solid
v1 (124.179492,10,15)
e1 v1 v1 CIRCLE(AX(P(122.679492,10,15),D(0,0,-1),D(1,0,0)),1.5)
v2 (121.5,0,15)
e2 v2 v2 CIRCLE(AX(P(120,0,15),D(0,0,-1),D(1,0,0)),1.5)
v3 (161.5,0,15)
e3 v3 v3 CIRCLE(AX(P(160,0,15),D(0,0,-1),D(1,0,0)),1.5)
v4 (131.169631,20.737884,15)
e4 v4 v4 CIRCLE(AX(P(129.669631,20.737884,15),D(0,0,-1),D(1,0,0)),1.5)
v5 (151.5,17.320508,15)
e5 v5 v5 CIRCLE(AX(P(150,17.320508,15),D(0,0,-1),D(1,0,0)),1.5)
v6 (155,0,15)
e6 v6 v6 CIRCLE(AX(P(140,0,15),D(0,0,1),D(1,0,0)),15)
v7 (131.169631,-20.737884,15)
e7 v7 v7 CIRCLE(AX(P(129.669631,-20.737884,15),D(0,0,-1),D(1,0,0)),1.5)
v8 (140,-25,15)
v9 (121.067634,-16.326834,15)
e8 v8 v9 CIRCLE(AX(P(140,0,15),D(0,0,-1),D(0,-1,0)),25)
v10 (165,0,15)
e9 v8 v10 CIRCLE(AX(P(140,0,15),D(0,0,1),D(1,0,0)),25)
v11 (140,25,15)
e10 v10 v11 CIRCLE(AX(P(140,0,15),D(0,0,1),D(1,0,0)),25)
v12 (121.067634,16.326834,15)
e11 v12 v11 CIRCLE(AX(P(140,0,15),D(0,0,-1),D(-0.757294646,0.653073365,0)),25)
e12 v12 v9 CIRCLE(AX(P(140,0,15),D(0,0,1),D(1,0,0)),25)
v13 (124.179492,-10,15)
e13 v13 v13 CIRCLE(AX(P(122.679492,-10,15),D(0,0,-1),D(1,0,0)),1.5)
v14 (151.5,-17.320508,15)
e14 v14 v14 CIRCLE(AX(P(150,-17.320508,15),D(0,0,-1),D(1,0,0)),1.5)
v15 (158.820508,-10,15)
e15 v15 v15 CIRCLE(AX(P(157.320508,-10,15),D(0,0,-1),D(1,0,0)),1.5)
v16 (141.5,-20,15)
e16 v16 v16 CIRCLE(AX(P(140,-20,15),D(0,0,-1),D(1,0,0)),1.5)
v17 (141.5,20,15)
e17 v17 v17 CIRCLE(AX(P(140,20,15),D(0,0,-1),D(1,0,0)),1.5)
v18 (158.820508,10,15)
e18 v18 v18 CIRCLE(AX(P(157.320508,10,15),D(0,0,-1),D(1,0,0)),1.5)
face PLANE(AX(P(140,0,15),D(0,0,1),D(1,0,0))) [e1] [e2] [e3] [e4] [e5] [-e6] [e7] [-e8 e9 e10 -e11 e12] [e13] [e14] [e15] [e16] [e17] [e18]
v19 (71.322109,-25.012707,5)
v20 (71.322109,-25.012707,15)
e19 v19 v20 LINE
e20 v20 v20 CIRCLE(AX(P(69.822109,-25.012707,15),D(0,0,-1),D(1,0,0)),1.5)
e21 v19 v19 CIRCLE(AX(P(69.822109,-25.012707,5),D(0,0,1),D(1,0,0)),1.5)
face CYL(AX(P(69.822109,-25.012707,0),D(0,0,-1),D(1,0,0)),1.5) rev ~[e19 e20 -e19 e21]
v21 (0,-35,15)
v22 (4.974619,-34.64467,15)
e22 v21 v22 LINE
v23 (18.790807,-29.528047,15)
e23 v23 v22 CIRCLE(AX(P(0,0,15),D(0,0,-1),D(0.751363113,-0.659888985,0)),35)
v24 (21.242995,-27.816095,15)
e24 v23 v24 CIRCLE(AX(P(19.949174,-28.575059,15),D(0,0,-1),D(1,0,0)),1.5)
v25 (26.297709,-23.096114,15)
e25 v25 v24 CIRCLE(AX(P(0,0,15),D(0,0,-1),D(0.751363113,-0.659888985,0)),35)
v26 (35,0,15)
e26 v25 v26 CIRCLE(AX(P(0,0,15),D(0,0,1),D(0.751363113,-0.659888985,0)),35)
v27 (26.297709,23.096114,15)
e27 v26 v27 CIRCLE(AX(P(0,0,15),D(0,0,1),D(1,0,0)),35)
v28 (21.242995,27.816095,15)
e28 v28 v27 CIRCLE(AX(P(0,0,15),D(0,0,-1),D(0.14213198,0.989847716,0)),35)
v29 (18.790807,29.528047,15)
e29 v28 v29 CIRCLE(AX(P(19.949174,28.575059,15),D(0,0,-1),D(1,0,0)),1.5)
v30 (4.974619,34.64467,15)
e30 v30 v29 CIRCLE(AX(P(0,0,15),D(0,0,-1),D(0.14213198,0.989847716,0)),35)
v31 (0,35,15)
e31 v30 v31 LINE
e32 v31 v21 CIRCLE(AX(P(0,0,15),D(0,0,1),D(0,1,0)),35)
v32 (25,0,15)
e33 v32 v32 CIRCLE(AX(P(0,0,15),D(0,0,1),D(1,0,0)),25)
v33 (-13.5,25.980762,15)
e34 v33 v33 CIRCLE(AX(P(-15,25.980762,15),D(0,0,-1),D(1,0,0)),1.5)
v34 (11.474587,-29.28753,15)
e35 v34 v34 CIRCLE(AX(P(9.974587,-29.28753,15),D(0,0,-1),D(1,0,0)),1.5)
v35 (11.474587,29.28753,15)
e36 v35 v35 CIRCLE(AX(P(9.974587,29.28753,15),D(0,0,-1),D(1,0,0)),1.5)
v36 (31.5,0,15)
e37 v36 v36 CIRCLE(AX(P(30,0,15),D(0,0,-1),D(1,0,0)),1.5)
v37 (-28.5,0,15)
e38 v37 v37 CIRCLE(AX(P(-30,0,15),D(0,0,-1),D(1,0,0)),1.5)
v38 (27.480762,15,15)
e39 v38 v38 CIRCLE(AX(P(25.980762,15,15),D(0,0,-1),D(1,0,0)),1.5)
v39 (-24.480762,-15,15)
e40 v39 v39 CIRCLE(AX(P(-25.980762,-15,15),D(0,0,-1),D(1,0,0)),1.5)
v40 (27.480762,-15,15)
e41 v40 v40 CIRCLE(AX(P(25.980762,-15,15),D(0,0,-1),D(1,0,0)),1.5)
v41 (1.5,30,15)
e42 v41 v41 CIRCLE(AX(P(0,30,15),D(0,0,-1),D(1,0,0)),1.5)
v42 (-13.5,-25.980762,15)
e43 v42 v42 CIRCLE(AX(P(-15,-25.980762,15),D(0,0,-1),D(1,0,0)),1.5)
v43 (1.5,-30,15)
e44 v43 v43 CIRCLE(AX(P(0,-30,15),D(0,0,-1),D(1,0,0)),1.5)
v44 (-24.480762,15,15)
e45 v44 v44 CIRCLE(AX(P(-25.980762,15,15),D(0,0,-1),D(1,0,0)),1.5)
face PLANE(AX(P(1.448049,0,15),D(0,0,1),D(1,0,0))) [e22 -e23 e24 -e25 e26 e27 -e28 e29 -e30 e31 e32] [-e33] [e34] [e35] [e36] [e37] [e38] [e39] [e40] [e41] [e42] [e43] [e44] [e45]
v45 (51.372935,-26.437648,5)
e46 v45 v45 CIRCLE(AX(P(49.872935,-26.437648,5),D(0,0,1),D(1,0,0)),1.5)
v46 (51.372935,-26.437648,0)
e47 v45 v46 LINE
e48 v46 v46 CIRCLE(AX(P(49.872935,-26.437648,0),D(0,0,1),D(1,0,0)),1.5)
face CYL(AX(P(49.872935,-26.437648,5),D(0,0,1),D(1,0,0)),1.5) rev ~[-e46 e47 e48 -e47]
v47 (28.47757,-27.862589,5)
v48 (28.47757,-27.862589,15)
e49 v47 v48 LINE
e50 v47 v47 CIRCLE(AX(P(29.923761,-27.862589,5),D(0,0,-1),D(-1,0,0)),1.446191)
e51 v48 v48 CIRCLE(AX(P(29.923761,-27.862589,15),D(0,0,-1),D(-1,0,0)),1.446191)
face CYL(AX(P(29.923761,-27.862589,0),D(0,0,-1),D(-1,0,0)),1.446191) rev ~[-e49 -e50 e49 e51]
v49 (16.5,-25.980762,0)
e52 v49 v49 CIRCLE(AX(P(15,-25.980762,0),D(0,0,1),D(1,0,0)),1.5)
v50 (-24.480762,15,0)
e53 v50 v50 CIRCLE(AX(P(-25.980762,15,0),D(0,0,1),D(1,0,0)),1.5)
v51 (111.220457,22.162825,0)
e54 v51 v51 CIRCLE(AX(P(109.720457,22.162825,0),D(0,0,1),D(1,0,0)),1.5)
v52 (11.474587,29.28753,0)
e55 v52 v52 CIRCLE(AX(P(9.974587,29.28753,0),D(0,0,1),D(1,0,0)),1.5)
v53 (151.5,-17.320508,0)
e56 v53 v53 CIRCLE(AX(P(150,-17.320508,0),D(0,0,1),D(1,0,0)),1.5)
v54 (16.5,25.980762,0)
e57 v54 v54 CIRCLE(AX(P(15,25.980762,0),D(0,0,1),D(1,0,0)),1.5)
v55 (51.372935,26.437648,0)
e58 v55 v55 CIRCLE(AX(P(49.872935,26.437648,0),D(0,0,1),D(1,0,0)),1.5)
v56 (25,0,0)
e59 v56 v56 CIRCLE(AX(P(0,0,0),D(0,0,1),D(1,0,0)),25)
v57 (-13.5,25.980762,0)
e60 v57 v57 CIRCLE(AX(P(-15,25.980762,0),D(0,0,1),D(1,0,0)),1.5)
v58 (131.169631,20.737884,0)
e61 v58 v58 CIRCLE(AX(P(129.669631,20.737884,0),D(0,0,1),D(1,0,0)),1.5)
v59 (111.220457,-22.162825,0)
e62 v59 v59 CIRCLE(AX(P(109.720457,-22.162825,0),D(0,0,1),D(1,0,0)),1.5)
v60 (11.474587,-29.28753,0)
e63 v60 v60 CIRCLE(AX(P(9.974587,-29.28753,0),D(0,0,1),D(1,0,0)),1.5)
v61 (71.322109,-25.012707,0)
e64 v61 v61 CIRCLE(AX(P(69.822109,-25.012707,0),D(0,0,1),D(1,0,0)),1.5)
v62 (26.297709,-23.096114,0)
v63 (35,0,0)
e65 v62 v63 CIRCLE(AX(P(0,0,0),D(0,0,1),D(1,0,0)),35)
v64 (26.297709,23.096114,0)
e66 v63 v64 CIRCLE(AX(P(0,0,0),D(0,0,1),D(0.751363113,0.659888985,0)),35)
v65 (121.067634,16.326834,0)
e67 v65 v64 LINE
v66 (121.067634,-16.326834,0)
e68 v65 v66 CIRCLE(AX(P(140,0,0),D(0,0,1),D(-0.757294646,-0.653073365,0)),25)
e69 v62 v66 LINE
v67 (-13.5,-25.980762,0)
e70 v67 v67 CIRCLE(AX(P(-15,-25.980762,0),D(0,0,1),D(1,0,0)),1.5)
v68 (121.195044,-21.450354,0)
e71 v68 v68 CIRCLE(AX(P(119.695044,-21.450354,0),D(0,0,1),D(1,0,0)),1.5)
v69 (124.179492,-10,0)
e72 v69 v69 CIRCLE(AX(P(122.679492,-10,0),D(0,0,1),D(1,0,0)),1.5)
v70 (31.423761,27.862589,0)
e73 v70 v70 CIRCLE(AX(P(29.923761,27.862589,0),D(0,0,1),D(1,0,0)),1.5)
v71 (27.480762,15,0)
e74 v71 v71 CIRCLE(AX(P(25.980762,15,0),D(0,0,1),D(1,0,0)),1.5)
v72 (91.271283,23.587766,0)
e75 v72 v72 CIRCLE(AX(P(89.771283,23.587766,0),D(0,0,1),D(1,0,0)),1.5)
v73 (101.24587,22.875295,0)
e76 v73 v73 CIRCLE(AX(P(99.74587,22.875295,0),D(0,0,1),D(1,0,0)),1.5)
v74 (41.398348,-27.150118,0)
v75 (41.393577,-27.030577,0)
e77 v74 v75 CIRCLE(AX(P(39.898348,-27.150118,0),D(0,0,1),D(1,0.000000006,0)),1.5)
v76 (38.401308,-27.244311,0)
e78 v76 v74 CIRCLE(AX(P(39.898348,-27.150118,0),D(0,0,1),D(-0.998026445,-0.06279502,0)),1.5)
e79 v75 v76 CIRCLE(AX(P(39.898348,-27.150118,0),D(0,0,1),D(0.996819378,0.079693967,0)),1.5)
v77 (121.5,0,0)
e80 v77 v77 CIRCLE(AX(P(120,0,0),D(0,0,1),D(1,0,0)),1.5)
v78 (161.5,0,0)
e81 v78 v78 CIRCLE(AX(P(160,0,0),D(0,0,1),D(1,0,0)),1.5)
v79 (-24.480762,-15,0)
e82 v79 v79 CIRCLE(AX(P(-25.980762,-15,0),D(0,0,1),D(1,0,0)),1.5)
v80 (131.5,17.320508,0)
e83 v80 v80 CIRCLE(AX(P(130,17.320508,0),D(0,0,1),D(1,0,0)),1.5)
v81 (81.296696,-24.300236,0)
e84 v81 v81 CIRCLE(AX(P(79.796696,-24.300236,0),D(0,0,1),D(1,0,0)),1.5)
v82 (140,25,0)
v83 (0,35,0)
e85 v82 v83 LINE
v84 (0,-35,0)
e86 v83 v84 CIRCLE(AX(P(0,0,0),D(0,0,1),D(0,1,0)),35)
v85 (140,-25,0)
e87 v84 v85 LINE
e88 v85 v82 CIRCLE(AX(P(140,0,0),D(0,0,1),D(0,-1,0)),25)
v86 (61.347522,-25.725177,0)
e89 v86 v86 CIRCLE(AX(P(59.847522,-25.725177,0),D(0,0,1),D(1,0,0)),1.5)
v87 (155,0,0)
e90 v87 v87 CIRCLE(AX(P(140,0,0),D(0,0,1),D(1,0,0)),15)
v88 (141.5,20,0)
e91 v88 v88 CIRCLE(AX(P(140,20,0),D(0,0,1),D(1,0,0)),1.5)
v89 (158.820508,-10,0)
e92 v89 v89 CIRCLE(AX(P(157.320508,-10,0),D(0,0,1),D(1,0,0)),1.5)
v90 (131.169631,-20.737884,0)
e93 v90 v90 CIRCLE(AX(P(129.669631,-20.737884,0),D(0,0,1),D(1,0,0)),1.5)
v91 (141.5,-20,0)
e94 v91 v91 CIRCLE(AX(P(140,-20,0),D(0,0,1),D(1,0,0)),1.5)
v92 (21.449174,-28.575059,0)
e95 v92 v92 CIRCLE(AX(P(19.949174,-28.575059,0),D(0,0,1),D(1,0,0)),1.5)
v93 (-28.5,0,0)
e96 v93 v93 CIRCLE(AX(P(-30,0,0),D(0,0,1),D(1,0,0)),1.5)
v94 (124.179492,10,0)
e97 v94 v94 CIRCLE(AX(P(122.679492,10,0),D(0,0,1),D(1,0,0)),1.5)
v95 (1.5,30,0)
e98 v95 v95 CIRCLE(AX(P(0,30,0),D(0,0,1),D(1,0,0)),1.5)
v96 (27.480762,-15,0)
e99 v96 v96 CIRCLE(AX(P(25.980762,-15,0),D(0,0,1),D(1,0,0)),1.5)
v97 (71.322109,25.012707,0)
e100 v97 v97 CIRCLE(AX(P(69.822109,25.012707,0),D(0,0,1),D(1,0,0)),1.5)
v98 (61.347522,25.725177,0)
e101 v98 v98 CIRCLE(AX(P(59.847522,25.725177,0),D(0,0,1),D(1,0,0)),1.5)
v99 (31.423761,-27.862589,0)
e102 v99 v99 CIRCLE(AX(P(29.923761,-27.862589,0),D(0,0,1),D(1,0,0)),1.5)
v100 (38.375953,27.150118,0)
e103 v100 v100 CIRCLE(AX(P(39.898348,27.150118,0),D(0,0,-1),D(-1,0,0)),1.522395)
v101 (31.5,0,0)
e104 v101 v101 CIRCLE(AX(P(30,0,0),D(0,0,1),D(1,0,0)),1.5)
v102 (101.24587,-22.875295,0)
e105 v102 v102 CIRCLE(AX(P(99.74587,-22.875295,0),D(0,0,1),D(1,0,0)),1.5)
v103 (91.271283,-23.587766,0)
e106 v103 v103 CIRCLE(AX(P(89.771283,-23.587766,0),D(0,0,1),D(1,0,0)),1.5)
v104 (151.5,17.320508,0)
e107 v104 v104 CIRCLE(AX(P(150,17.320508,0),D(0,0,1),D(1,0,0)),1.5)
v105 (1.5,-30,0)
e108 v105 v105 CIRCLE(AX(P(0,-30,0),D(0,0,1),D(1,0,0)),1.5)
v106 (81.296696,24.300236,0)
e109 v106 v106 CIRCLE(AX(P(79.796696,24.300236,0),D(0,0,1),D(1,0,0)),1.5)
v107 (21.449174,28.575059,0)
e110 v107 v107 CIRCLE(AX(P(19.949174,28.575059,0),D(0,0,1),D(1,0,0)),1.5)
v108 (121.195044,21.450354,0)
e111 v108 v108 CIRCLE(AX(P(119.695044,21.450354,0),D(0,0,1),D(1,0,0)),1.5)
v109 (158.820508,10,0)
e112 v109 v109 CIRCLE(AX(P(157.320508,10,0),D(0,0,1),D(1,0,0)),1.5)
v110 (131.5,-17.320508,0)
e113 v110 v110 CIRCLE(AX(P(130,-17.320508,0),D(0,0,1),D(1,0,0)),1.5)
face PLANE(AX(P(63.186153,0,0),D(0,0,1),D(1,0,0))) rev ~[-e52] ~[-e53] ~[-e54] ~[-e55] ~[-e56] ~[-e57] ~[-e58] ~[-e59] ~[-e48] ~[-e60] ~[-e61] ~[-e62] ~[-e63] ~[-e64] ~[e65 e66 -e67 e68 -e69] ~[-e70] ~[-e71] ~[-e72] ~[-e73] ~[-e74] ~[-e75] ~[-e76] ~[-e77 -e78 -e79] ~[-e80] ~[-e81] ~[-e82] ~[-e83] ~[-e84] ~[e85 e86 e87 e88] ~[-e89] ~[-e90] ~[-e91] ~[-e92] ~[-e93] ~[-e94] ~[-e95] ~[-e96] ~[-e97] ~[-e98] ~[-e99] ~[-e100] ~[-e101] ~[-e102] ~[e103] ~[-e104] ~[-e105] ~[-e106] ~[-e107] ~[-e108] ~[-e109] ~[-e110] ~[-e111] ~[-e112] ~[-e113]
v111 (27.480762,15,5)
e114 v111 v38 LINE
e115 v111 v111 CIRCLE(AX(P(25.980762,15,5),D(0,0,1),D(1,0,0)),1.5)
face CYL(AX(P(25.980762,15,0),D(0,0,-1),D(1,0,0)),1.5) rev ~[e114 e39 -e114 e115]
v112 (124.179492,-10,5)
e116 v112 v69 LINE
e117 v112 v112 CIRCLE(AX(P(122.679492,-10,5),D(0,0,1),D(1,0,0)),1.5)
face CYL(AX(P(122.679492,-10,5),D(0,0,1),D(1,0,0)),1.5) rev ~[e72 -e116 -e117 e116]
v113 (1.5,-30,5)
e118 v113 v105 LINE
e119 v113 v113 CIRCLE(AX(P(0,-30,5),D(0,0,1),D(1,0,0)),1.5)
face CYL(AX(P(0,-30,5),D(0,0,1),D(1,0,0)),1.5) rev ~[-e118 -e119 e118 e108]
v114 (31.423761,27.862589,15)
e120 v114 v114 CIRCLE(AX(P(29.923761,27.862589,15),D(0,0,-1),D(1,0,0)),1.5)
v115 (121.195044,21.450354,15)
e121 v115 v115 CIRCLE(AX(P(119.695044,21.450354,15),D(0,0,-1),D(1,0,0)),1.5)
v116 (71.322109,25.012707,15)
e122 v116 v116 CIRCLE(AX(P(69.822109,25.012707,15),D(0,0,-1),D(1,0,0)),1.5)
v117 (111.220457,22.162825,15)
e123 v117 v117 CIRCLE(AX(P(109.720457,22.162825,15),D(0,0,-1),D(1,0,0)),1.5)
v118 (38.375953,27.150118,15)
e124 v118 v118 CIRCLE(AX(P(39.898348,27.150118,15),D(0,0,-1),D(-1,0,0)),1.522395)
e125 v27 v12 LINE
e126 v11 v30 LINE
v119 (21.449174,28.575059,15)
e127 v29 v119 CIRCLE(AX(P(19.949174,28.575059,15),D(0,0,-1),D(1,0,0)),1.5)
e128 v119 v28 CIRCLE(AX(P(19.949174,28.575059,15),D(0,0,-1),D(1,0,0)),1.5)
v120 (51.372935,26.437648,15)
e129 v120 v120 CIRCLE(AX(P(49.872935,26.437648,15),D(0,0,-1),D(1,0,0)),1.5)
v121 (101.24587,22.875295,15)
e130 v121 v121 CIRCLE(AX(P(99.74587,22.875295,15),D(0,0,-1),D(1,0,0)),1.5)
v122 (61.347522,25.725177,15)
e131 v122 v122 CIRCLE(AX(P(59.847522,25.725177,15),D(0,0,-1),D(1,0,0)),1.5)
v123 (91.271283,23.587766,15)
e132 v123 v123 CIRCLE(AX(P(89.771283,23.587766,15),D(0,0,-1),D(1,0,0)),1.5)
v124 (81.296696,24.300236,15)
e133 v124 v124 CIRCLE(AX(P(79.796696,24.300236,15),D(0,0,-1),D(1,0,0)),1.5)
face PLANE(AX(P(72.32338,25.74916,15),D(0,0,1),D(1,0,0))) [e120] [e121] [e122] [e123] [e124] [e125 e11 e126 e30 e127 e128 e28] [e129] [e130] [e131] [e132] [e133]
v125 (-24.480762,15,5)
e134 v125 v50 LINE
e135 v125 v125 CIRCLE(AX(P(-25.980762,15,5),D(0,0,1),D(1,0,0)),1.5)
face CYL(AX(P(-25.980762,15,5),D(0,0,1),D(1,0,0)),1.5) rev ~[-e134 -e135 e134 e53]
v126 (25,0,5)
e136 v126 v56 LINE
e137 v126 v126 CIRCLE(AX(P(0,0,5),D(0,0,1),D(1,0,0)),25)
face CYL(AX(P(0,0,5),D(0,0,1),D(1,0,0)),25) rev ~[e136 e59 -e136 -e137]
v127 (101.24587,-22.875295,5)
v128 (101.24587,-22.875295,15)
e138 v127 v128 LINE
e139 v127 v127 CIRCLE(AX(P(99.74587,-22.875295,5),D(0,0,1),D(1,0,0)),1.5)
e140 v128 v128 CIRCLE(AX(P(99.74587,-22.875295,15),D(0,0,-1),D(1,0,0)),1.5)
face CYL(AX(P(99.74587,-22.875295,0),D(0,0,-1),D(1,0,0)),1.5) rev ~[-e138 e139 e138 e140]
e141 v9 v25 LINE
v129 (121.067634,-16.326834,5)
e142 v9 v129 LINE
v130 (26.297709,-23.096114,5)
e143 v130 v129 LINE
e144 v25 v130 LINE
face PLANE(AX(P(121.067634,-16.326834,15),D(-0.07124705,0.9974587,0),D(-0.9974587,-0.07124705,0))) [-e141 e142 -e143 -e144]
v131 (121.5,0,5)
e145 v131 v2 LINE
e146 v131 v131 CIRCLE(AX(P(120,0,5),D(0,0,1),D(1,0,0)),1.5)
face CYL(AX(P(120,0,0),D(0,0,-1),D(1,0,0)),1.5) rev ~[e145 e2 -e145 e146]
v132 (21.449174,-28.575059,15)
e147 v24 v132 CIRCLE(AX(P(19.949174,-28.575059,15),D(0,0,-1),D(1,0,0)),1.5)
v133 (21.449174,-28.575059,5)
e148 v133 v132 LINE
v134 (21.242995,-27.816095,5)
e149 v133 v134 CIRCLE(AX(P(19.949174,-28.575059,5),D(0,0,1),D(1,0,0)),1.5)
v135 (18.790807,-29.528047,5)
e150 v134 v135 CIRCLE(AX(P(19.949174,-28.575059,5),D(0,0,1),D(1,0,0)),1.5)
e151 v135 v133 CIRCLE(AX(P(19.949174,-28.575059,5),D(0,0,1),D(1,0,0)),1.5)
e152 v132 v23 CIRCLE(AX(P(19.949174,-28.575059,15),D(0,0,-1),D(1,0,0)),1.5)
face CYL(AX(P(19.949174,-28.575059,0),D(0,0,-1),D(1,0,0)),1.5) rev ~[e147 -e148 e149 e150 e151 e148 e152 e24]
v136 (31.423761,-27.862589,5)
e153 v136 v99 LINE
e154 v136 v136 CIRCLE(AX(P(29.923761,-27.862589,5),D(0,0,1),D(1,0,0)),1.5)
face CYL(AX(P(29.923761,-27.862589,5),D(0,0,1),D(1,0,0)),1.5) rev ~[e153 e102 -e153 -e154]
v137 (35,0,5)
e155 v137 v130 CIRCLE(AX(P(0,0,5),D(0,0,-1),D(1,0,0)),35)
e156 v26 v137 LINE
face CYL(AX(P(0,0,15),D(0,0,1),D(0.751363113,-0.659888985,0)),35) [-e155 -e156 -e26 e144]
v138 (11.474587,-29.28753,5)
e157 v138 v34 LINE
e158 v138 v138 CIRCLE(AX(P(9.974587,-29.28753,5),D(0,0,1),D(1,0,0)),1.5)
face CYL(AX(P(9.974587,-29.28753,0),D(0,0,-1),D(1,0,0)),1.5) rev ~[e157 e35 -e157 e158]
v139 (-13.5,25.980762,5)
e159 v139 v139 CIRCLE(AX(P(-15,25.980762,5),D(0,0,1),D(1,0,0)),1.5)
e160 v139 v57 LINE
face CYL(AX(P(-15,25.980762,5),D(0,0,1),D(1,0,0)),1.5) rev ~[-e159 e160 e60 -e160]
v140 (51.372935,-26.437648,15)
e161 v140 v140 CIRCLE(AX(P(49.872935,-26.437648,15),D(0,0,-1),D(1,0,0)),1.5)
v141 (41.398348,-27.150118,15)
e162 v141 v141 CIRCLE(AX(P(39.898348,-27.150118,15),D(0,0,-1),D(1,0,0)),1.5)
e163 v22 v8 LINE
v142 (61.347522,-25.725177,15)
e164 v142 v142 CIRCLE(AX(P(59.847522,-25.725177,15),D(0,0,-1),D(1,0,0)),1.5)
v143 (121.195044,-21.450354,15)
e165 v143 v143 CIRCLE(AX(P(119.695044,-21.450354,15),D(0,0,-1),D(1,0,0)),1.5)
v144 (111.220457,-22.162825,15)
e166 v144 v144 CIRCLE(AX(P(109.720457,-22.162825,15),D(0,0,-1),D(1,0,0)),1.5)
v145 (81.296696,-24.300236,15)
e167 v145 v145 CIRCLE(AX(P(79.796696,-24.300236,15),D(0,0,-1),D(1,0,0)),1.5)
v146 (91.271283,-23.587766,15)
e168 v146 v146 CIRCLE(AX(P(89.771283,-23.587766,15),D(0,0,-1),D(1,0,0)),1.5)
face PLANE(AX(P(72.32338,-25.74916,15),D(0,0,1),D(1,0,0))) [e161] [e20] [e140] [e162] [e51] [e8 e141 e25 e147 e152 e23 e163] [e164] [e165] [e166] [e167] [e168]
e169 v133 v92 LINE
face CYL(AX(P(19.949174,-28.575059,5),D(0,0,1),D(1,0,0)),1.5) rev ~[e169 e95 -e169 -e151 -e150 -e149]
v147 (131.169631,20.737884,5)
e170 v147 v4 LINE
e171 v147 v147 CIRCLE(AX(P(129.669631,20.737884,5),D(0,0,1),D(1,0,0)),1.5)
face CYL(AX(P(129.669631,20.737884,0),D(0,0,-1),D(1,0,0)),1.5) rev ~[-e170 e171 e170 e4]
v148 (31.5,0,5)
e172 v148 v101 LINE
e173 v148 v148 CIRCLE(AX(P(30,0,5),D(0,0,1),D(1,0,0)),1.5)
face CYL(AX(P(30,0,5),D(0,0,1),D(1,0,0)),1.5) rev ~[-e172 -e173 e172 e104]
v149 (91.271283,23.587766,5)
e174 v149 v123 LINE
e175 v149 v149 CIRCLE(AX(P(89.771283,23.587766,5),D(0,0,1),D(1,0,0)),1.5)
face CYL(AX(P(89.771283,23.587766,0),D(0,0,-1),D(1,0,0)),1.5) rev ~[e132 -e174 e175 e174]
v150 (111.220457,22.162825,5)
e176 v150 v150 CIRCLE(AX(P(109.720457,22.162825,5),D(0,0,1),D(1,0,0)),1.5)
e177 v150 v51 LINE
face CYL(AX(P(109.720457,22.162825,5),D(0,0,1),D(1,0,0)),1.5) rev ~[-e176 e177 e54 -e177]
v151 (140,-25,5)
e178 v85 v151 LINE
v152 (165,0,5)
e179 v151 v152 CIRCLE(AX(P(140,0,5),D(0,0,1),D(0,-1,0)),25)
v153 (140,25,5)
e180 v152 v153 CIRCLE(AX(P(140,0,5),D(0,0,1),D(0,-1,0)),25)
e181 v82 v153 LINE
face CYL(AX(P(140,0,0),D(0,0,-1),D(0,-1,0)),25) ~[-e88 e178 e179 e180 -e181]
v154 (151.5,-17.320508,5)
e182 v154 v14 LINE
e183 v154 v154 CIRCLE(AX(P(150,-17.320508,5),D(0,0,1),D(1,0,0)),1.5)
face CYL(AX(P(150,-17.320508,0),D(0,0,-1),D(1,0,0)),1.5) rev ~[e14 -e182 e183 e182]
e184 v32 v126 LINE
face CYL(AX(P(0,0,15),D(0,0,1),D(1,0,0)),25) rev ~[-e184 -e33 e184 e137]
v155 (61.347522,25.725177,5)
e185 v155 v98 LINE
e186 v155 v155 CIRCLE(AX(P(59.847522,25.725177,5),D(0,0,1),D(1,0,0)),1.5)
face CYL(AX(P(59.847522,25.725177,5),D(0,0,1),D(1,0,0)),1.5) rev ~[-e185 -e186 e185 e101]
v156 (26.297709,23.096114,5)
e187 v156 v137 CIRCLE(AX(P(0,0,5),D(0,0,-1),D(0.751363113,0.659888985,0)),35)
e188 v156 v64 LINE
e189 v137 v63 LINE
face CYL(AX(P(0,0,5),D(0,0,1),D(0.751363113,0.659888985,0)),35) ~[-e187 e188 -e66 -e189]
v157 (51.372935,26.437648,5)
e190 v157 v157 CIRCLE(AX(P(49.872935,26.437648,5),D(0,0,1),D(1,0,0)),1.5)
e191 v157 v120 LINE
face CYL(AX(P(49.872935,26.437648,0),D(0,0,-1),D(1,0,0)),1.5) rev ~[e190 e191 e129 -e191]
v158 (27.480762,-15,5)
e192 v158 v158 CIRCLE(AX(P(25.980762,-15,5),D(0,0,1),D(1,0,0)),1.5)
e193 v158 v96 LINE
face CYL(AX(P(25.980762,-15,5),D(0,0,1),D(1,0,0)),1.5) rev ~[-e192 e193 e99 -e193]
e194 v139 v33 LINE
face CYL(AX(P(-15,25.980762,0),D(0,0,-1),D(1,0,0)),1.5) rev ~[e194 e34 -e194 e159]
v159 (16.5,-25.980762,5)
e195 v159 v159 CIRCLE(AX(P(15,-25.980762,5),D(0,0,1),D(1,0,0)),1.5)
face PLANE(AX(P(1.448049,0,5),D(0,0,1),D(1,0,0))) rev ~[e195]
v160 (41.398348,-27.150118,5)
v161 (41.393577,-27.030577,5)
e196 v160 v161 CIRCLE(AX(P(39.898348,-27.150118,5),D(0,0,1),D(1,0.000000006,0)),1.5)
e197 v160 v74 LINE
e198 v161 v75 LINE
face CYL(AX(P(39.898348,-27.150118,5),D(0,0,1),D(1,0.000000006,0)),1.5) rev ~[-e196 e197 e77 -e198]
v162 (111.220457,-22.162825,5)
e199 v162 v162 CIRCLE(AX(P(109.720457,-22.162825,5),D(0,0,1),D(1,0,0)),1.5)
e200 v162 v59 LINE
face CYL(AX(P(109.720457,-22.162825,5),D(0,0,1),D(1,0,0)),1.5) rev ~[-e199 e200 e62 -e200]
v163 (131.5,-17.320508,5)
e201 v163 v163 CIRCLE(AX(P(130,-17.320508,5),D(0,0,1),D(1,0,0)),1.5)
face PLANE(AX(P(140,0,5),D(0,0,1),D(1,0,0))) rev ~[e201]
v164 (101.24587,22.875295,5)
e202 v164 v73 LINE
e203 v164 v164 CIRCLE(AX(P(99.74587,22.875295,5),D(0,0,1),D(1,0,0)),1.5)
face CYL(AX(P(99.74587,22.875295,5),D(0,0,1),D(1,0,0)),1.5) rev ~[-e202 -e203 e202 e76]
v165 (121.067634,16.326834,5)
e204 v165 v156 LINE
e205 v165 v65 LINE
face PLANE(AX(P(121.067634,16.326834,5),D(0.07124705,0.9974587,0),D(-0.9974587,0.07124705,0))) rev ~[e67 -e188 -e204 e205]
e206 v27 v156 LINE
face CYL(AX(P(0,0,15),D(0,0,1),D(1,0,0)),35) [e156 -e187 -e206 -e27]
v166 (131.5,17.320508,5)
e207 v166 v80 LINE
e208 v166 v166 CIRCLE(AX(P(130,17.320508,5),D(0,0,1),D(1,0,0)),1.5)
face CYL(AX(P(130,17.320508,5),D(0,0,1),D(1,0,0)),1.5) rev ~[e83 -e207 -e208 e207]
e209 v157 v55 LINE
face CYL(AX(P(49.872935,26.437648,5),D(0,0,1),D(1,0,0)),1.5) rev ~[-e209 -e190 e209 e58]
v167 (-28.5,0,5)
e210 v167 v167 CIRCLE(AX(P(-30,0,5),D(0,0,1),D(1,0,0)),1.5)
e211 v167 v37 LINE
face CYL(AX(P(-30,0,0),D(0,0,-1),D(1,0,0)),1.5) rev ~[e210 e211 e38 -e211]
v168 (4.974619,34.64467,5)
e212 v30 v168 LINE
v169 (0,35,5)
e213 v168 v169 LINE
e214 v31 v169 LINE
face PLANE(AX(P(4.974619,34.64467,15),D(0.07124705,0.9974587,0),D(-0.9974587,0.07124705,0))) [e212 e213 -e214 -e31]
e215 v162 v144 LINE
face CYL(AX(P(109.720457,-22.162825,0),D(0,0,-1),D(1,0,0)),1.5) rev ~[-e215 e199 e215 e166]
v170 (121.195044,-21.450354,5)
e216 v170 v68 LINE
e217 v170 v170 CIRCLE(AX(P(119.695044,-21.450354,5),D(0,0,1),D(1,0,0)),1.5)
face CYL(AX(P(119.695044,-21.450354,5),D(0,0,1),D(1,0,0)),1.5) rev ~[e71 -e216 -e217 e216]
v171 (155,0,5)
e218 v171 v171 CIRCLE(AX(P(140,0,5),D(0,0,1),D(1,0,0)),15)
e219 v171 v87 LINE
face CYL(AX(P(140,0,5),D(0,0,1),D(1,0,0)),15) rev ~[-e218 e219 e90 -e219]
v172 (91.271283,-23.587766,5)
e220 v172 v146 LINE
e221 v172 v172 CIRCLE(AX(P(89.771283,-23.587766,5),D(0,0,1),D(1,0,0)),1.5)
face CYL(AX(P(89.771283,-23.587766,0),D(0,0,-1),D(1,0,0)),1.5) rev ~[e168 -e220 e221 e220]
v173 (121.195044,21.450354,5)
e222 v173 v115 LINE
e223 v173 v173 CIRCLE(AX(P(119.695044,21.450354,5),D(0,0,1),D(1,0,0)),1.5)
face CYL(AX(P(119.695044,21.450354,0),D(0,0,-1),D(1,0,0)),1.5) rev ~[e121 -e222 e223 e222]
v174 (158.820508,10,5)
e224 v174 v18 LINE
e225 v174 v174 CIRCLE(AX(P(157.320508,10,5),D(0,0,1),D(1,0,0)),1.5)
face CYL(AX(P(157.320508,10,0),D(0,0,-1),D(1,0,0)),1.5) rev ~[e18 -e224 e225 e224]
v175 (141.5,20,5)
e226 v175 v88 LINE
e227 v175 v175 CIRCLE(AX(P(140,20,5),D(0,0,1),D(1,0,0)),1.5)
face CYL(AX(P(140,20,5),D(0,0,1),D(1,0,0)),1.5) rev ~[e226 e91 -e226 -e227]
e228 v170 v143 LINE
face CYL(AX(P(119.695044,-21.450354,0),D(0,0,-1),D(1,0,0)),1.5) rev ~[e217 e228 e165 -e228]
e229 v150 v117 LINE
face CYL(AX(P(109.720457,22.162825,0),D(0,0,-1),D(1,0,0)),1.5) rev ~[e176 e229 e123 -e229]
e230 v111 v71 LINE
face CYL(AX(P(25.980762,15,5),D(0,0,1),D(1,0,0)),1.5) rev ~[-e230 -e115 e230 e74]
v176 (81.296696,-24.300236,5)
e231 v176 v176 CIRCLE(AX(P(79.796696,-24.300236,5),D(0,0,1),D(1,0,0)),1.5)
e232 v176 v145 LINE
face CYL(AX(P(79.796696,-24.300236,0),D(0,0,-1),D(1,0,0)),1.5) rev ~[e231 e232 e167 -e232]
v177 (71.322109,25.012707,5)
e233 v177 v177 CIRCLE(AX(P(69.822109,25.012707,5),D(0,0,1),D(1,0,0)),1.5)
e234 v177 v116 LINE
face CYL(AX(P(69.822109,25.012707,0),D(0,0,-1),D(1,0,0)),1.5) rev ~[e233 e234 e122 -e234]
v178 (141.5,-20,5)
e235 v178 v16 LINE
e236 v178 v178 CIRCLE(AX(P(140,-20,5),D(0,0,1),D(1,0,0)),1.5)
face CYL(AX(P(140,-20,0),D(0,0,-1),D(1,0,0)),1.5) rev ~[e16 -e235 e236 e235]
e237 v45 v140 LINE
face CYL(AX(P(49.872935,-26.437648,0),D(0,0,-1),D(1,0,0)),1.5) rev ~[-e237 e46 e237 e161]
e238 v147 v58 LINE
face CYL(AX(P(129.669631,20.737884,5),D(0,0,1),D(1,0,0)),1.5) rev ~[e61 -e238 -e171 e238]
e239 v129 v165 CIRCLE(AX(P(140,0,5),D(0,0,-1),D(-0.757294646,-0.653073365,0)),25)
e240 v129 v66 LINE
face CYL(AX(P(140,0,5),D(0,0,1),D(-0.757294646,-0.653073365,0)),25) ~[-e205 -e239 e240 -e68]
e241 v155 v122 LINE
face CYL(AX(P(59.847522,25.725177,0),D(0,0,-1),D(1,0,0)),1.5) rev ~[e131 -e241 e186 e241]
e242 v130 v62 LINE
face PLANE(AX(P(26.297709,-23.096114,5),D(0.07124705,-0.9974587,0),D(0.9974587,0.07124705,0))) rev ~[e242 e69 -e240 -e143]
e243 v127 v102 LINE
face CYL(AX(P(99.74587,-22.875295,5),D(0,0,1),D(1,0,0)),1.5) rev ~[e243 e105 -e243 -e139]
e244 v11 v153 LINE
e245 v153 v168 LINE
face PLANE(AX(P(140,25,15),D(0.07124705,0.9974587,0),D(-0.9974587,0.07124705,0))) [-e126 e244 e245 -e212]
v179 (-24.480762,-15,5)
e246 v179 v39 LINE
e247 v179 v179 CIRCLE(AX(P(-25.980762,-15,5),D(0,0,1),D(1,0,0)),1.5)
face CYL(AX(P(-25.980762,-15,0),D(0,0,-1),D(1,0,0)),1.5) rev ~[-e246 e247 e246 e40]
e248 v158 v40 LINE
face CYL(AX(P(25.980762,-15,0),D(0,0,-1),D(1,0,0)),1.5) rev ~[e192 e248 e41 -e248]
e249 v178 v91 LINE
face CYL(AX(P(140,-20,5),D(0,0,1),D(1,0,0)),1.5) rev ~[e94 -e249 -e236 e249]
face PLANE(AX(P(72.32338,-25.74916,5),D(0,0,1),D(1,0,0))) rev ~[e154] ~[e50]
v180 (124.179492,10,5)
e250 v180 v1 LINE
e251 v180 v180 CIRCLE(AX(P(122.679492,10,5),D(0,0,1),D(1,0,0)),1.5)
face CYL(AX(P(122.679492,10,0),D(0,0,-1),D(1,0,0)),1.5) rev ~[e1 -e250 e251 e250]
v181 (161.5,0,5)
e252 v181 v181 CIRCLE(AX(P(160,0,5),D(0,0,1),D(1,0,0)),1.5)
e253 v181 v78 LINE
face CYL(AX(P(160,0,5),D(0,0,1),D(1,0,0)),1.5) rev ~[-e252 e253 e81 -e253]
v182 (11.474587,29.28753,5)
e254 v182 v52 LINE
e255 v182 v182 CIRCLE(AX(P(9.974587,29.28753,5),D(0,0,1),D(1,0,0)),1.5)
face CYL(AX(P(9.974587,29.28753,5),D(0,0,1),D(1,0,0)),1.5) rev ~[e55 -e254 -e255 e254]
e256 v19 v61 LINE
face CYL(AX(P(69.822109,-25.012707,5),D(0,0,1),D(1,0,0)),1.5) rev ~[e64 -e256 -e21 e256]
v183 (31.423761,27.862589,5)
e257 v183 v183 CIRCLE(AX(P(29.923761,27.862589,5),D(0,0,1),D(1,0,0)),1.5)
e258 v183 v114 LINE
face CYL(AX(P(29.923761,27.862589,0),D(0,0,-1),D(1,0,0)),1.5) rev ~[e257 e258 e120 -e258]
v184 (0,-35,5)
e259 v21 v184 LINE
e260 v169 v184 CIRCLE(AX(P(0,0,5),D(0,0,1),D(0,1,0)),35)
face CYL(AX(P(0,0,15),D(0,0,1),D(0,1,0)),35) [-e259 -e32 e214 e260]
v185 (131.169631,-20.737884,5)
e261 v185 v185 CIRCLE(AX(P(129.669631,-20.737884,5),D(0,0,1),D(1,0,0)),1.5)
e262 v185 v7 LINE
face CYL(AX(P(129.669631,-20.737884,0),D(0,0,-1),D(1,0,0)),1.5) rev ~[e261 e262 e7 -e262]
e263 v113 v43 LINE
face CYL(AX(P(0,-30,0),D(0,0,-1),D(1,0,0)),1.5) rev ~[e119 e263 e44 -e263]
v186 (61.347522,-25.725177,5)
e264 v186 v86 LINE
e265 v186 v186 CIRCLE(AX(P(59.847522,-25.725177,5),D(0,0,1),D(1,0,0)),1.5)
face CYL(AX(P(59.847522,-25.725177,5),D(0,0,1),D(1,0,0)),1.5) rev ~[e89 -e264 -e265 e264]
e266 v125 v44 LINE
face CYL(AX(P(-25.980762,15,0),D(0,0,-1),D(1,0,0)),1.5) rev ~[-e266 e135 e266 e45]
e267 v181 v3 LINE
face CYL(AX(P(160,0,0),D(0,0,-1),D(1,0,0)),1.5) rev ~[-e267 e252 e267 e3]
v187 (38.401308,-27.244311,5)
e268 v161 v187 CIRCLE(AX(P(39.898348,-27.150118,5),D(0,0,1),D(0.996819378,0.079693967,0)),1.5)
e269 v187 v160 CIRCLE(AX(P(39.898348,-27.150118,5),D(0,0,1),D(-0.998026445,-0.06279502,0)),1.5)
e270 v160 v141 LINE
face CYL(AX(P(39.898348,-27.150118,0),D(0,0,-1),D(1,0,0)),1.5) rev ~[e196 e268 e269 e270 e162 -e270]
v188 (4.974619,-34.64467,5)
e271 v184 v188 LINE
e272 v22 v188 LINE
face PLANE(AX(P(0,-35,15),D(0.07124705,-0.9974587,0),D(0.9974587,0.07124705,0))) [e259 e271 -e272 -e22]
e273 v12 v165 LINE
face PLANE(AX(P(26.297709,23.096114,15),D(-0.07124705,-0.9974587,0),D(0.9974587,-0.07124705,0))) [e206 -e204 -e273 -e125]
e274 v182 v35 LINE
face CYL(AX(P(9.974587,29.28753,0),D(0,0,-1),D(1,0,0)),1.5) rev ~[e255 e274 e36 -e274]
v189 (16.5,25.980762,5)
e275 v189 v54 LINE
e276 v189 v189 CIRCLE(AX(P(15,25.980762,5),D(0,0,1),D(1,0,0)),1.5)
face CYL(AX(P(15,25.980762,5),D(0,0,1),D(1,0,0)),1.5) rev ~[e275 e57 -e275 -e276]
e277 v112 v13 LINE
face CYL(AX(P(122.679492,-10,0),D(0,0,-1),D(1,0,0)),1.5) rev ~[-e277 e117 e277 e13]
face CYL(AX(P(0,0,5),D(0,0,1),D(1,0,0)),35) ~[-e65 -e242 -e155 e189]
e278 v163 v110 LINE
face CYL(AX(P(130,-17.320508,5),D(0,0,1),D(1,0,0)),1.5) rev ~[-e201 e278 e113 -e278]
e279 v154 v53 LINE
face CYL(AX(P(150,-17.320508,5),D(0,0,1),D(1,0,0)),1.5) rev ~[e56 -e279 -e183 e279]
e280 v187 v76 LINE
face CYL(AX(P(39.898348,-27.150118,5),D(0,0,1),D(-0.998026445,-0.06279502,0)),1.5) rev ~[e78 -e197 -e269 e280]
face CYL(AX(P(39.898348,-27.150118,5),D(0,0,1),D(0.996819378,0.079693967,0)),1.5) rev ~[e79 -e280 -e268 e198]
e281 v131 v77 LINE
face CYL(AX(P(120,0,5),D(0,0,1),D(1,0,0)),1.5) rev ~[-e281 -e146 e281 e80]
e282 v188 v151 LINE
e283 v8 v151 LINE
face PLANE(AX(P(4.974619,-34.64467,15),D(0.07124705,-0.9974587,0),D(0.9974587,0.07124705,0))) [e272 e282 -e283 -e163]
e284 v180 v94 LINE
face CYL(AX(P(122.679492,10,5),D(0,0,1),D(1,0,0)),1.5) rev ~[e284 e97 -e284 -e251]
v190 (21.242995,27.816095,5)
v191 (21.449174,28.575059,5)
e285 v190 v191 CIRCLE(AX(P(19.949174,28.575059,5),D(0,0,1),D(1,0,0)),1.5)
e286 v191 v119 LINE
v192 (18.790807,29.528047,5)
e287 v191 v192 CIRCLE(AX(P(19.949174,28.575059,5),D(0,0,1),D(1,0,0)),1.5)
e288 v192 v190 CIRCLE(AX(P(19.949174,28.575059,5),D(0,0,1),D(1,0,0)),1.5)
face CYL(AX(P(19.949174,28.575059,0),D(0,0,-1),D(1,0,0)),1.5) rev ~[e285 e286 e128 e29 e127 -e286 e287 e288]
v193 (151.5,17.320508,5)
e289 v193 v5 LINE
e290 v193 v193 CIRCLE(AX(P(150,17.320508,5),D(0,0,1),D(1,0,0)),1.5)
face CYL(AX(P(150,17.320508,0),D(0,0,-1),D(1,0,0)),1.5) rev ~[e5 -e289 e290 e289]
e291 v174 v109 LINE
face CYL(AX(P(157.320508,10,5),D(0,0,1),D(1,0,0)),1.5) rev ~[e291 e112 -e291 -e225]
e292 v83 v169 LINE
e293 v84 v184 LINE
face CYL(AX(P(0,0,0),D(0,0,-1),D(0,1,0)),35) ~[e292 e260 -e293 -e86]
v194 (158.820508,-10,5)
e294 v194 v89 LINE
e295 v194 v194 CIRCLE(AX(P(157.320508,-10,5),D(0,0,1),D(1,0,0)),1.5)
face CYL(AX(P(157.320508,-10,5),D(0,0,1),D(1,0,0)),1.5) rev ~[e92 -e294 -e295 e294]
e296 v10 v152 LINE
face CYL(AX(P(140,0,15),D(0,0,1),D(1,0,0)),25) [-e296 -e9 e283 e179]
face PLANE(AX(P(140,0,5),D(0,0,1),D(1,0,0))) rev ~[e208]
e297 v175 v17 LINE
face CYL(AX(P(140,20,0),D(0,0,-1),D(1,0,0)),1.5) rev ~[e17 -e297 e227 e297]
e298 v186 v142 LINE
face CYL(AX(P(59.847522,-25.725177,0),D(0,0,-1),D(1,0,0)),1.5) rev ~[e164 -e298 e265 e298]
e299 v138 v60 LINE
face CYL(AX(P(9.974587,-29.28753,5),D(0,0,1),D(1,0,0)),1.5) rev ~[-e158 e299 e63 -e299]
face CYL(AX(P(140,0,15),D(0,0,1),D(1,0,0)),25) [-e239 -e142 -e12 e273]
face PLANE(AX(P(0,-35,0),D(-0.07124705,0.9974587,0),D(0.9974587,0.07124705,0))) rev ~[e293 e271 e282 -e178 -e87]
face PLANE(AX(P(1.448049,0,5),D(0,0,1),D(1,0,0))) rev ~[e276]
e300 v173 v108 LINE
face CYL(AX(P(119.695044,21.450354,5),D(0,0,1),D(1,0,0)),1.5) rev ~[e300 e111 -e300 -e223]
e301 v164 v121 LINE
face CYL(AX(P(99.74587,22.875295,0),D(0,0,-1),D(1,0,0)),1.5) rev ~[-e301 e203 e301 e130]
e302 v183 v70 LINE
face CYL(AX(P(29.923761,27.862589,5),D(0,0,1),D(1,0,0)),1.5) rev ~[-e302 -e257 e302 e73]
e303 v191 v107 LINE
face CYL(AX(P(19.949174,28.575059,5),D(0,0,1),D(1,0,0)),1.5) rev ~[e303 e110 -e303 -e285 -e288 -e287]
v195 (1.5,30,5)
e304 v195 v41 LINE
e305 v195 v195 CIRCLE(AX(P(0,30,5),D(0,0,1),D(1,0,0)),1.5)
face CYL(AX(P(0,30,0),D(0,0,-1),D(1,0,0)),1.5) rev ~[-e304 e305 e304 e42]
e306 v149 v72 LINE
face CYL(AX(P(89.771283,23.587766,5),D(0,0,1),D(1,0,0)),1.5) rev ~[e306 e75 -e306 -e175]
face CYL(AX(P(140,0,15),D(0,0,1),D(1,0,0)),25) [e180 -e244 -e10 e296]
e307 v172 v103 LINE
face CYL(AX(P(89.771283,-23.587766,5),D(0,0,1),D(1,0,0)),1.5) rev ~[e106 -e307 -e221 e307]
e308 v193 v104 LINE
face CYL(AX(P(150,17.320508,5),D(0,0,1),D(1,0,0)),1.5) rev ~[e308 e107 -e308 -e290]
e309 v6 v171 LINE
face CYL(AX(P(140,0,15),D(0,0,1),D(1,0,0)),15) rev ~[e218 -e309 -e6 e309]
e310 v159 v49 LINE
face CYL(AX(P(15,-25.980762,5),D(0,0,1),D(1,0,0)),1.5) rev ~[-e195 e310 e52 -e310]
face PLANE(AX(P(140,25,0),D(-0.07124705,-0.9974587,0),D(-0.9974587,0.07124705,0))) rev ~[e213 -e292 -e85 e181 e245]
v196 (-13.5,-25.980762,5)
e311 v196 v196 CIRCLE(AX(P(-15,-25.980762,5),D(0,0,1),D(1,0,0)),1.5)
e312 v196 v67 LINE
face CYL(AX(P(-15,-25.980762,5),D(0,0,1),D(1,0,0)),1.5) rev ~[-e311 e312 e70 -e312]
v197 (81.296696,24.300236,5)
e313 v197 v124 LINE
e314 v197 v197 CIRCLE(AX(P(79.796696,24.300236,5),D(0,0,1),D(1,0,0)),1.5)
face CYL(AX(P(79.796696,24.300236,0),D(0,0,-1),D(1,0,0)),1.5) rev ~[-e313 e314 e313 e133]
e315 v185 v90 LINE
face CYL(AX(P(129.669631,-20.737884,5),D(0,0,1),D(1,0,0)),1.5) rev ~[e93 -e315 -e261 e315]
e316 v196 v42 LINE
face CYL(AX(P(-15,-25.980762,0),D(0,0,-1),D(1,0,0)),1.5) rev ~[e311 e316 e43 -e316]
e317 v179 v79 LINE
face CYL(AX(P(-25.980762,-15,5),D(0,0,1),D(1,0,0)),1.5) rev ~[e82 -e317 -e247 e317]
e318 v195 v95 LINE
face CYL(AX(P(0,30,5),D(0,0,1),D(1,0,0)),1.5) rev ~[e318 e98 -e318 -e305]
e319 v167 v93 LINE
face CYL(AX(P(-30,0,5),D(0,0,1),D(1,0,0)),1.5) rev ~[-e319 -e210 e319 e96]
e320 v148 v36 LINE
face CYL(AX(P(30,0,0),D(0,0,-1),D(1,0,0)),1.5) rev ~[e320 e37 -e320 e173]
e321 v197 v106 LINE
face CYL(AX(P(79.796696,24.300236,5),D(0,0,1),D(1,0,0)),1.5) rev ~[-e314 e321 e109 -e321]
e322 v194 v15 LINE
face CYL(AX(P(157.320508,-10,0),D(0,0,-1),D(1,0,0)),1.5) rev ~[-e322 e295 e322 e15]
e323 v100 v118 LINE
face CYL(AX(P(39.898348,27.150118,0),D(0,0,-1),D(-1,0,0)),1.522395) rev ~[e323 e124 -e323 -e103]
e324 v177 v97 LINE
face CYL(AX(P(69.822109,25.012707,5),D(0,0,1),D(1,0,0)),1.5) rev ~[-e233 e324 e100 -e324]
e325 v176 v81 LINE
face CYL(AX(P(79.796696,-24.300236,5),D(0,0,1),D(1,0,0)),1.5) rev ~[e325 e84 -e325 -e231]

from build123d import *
from build123d.topology import SkipClean

# Parameters (mm, degrees)
EXTRUDE_3_DEPTH      = 5
SKETCH_4_R           = 4
SKETCH_4_R_2         = 1.5
CUT_EXTRUDE_3_DEPTH  = 5
SKETCH_5_R           = 11
CUT_EXTRUDE_4_DEPTH  = 2
SKETCH_6_R           = 1.5
CUT_EXTRUDE_6_DEPTH  = 169.745370307
SKETCH_8_R           = 1.5
CUT_EXTRUDE_8_DEPTH  = 169.745370307
SKETCH_10_R          = 25
SKETCH_10_R_2        = 15
CUT_EXTRUDE_9_DEPTH  = 169.745370307
EXTRUDE_START        = 10
SKETCH_11_R          = 25
SKETCH_11_R_2        = 15
EXTRUDE_4_DEPTH      = 10
SKETCH_13_R          = 1.5
SKETCH_13_R_2        = 1.522394956
SKETCH_13_R_3        = 1.446191393
CUT_EXTRUDE_10_DEPTH = 170.336942219


with BuildPart() as part:
    # 草图1 → 凸台-拉伸3 (new body)
    with BuildSketch(Plane.XY):
        with BuildLine():
            Line((140, 25), (0, 35))
            ThreePointArc((0, 35), (-35, 0), (0, -35))
            Line((0, -35), (140, -25))
            ThreePointArc((140, -25), (165, 0), (140, 25))
        make_face()
    extrude(amount=EXTRUDE_3_DEPTH)

    # 草图4 → 切除-拉伸3 (cut)
    with BuildSketch(Plane.XY.offset(5)):
        with Locations((140, 0)):
            Circle(SKETCH_4_R)
        Circle(SKETCH_4_R)
        with BuildLine():
            Line((-5, -3.5), (-5, -5))
            Line((-5, -5), (-3.5, -5))
            ThreePointArc((-3.5, -5), (-3.939339828, -3.939339828), (-5, -3.5))
        make_face()
        with BuildLine():
            Line((-3.5, -5), (-5, -5))
            Line((-5, -5), (-5, -3.5))
            ThreePointArc((-5, -3.5), (-6.060660172, -6.060660172), (-3.5, -5))
        make_face()
        with Locations((135, 5)):
            Circle(SKETCH_4_R_2)
        with Locations((135, -5)):
            Circle(SKETCH_4_R_2)
        with Locations((145, -5)):
            Circle(SKETCH_4_R_2)
        with Locations((145, 5)):
            Circle(SKETCH_4_R_2)
        with Locations((-5, 5)):
            Circle(SKETCH_4_R_2)
        with Locations((5, 5)):
            Circle(SKETCH_4_R_2)
        with Locations((5, -5)):
            Circle(SKETCH_4_R_2)
    extrude(amount=-CUT_EXTRUDE_3_DEPTH, mode=Mode.SUBTRACT)

    # 草图5 → 切除-拉伸4 (cut)
    with BuildSketch(Plane.XY.offset(5)):
        Circle(SKETCH_5_R)
        with Locations((140, 0)):
            Circle(SKETCH_5_R)
    extrude(amount=-CUT_EXTRUDE_4_DEPTH, mode=Mode.SUBTRACT)

    # 草图6 → 切除-拉伸6 (cut, through all)
    with BuildSketch(Plane.XY.offset(5)):
        with Locations((0, 30)):
            Circle(SKETCH_6_R)
        with Locations((15, 25.980762114)):
            Circle(SKETCH_6_R)
        with Locations((25.980762114, 15)):
            Circle(SKETCH_6_R)
        with Locations((30, 0)):
            Circle(SKETCH_6_R)
        with Locations((25.980762114, -15)):
            Circle(SKETCH_6_R)
        with Locations((15, -25.980762114)):
            Circle(SKETCH_6_R)
        with Locations((0, -30)):
            Circle(SKETCH_6_R)
        with Locations((-15, -25.980762114)):
            Circle(SKETCH_6_R)
        with Locations((-25.980762114, -15)):
            Circle(SKETCH_6_R)
        with Locations((-30, 0)):
            Circle(SKETCH_6_R)
        with Locations((-25.980762114, 15)):
            Circle(SKETCH_6_R)
        with Locations((-15, 25.980762114)):
            Circle(SKETCH_6_R)
        with Locations((140, 20)):
            Circle(SKETCH_6_R)
        with Locations((150, 17.320508076)):
            Circle(SKETCH_6_R)
        with Locations((157.320508076, 10)):
            Circle(SKETCH_6_R)
        with Locations((160, 0)):
            Circle(SKETCH_6_R)
        with Locations((157.320508076, -10)):
            Circle(SKETCH_6_R)
        with Locations((150, -17.320508076)):
            Circle(SKETCH_6_R)
        with Locations((140, -20)):
            Circle(SKETCH_6_R)
        with Locations((130, -17.320508076)):
            Circle(SKETCH_6_R)
        with Locations((122.679491924, -10)):
            Circle(SKETCH_6_R)
        with Locations((120, 0)):
            Circle(SKETCH_6_R)
        with Locations((122.679491924, 10)):
            Circle(SKETCH_6_R)
        with Locations((130, 17.320508076)):
            Circle(SKETCH_6_R)
    extrude(amount=-CUT_EXTRUDE_6_DEPTH, mode=Mode.SUBTRACT)

    # 草图8 → 切除-拉伸8 (cut, through all)
    with BuildSketch(Plane.XY.offset(5)):
        with BuildLine():
            ThreePointArc((35, 0), (32.752250408, -12.340587232), (26.297708958, -23.096114469))
            Line((26.297708958, -23.096114469), (121.06763386, -16.326834119))
            ThreePointArc((121.06763386, -16.326834119), (115, 0), (121.06763386, 16.326834119))
            Line((121.06763386, 16.326834119), (26.297708958, 23.096114469))
            ThreePointArc((26.297708958, 23.096114469), (32.752250408, 12.340587232), (35, 0))
        make_face()
        with BuildLine():
            ThreePointArc((41.39357706, -27.03057705), (39.791477418, -25.653929951), (38.401308325, -27.244310531))
            Line((38.401308325, -27.244310531), (41.39357706, -27.03057705))
        make_face()
        with BuildLine():
            Line((41.39357706, -27.03057705), (38.401308325, -27.244310531))
            ThreePointArc((38.401308325, -27.244310531), (39.945467513, -28.649377735), (41.398347993, -27.150118))
            ThreePointArc((41.398347993, -27.150118), (41.397154785, -27.090299942), (41.39357706, -27.03057705))
        make_face()
        with Locations((9.974586998, 29.2875295)):
            Circle(SKETCH_8_R)
        with Locations((19.949173997, 28.575059)):
            Circle(SKETCH_8_R)
        with Locations((29.923760995, 27.8625885)):
            Circle(SKETCH_8_R)
        with Locations((39.898347993, 27.150118)):
            Circle(SKETCH_8_R)
        with Locations((49.872934992, 26.437647501)):
            Circle(SKETCH_8_R)
        with Locations((59.84752199, 25.725177001)):
            Circle(SKETCH_8_R)
        with Locations((69.822108988, 25.012706501)):
            Circle(SKETCH_8_R)
        with Locations((89.771282985, 23.587765501)):
            Circle(SKETCH_8_R)
        with Locations((79.796695986, 24.300236001)):
            Circle(SKETCH_8_R)
        with Locations((99.745869983, 22.875295001)):
            Circle(SKETCH_8_R)
        with Locations((109.720456981, 22.162824501)):
            Circle(SKETCH_8_R)
        with Locations((119.69504398, 21.450354001)):
            Circle(SKETCH_8_R)
        with Locations((129.669630978, 20.737883502)):
            Circle(SKETCH_8_R)
        with Locations((129.669630978, -20.737883502)):
            Circle(SKETCH_8_R)
        with Locations((119.69504398, -21.450354001)):
            Circle(SKETCH_8_R)
        with Locations((109.720456981, -22.162824501)):
            Circle(SKETCH_8_R)
        with Locations((99.745869983, -22.875295001)):
            Circle(SKETCH_8_R)
        with Locations((89.771282985, -23.587765501)):
            Circle(SKETCH_8_R)
        with Locations((79.796695986, -24.300236001)):
            Circle(SKETCH_8_R)
        with Locations((69.822108988, -25.012706501)):
            Circle(SKETCH_8_R)
        with Locations((59.84752199, -25.725177001)):
            Circle(SKETCH_8_R)
        with Locations((49.872934992, -26.437647501)):
            Circle(SKETCH_8_R)
        with Locations((29.923760995, -27.8625885)):
            Circle(SKETCH_8_R)
        with Locations((19.949173997, -28.575059)):
            Circle(SKETCH_8_R)
        with Locations((9.974586998, -29.2875295)):
            Circle(SKETCH_8_R)
    extrude(amount=-CUT_EXTRUDE_8_DEPTH, mode=Mode.SUBTRACT)

    # 草图10 → 切除-拉伸9 (cut, through all)
    with BuildSketch(Plane.XY.offset(5)):
        Circle(SKETCH_10_R)
        with Locations((140, 0)):
            Circle(SKETCH_10_R_2)
    extrude(amount=-CUT_EXTRUDE_9_DEPTH, mode=Mode.SUBTRACT)

    # 草图11 → 凸台-拉伸4 (add)
    # profile 1 of 4: a face of its own
    with SkipClean():  # the faces are left unmerged after this step: merging them gives an invalid solid
        with BuildSketch(Plane.XY.offset(5).offset(EXTRUDE_START)):
            with Locations((140, 0)):
                Circle(SKETCH_11_R)
            with Locations((140, 0)):
                Circle(SKETCH_11_R_2, mode=Mode.SUBTRACT)
        # profile 2 of 4: a face of its own
        with BuildSketch(Plane.XY.offset(5).offset(EXTRUDE_START)):
            with BuildLine():
                ThreePointArc((121.06763386, 16.326834119), (129.587768082, 22.728515712), (140, 25))
                Line((140, 25), (4.974619289, 34.644670051))
                ThreePointArc((4.974619289, 34.644670051), (16.668290629, 30.77609604), (26.297708958, 23.096114469))
                Line((26.297708958, 23.096114469), (121.06763386, 16.326834119))
            make_face()
        # profile 3 of 4: a face of its own
        with BuildSketch(Plane.XY.offset(5).offset(EXTRUDE_START)):
            with BuildLine():
                Line((4.974619289, -34.644670051), (140, -25))
                ThreePointArc((140, -25), (129.587768082, -22.728515712), (121.06763386, -16.326834119))
                Line((121.06763386, -16.326834119), (26.297708958, -23.096114469))
                ThreePointArc((26.297708958, -23.096114469), (16.668290629, -30.77609604), (4.974619289, -34.644670051))
            make_face()
        # profile 4 of 4: a face of its own
        with BuildSketch(Plane.XY.offset(5).offset(EXTRUDE_START)):
            with BuildLine():
                ThreePointArc((26.297708958, 23.096114469), (16.668290629, 30.77609604), (4.974619289, 34.644670051))
                Line((4.974619289, 34.644670051), (0, 35))
                ThreePointArc((0, 35), (-35, 0), (0, -35))
                Line((0, -35), (4.974619289, -34.644670051))
                ThreePointArc((4.974619289, -34.644670051), (16.668290629, -30.77609604), (26.297708958, -23.096114469))
                ThreePointArc((26.297708958, -23.096114469), (32.752250408, -12.340587232), (35, 0))
                ThreePointArc((35, 0), (32.752250408, 12.340587232), (26.297708958, 23.096114469))
            make_face()
            Circle(SKETCH_11_R, mode=Mode.SUBTRACT)
        extrude(amount=-EXTRUDE_4_DEPTH)

    # 草图13 → 切除-拉伸10 (cut, through all)
    with SkipClean():  # the faces are left unmerged after this step: merging them gives an invalid solid
        with BuildSketch(Plane(origin=(0, 0, 0), x_dir=(-1, 0, 0), z_dir=(0, 0, -1))):
            with Locations(Location((-150, 17.320508076, 0), (0, 0, 180))):
                Circle(SKETCH_13_R)
            with Locations(Location((-157.320508076, 10, 0), (0, 0, 180))):
                Circle(SKETCH_13_R)
            with Locations(Location((-160, 0, 0), (0, 0, 180))):
                Circle(SKETCH_13_R)
            with Locations(Location((-157.320508076, -10, 0), (0, 0, 180))):
                Circle(SKETCH_13_R)
            with Locations(Location((-150, -17.320508076, 0), (0, 0, 180))):
                Circle(SKETCH_13_R)
            with Locations(Location((-140, -20, 0), (0, 0, 180))):
                Circle(SKETCH_13_R)
            with Locations(Location((-120, 0, 0), (0, 0, 180))):
                Circle(SKETCH_13_R)
            with Locations(Location((-122.679491924, 10, 0), (0, 0, 180))):
                Circle(SKETCH_13_R)
            with Locations(Location((-122.679491924, -10, 0), (0, 0, 180))):
                Circle(SKETCH_13_R)
            with Locations(Location((-129.669630978, -20.737883502, 0), (0, 0, 180))):
                Circle(SKETCH_13_R)
            with Locations(Location((-119.69504398, -21.450354001, 0), (0, 0, 180))):
                Circle(SKETCH_13_R)
            with Locations(Location((-109.720456981, -22.162824501, 0), (0, 0, 180))):
                Circle(SKETCH_13_R)
            with Locations(Location((-99.745869983, -22.875295001, 0), (0, 0, 180))):
                Circle(SKETCH_13_R)
            with Locations(Location((-140, 20, 0), (0, 0, 180))):
                Circle(SKETCH_13_R)
            with Locations(Location((-129.669630978, 20.737883502, 0), (0, 0, 180))):
                Circle(SKETCH_13_R)
            with Locations(Location((-119.69504398, 21.450354001, 0), (0, 0, 180))):
                Circle(SKETCH_13_R)
            with Locations(Location((-109.720456981, 22.162824501, 0), (0, 0, 180))):
                Circle(SKETCH_13_R)
            with Locations(Location((-99.745869983, 22.875295001, 0), (0, 0, 180))):
                Circle(SKETCH_13_R)
            with Locations(Location((-89.771282985, 23.587765501, 0), (0, 0, 180))):
                Circle(SKETCH_13_R)
            with Locations(Location((-79.796695986, 24.300236001, 0), (0, 0, 180))):
                Circle(SKETCH_13_R)
            with Locations(Location((-69.822108988, 25.012706501, 0), (0, 0, 180))):
                Circle(SKETCH_13_R)
            with Locations(Location((-59.84752199, 25.725177001, 0), (0, 0, 180))):
                Circle(SKETCH_13_R)
            with Locations(Location((-49.872934992, 26.437647501, 0), (0, 0, 180))):
                Circle(SKETCH_13_R)
            with Locations((-39.898347993, 27.150118)):
                Circle(SKETCH_13_R_2)
            with Locations(Location((-29.923760995, 27.8625885, 0), (0, 0, 180))):
                Circle(SKETCH_13_R)
            with Locations(Location((-19.949173997, 28.575059, 0), (0, 0, 180))):
                Circle(SKETCH_13_R)
            with Locations(Location((-9.974586998, 29.2875295, 0), (0, 0, 180))):
                Circle(SKETCH_13_R)
            with Locations(Location((0, 30, 0), (0, 0, 180))):
                Circle(SKETCH_13_R)
            with Locations(Location((15, 25.980762114, 0), (0, 0, 180))):
                Circle(SKETCH_13_R)
            with Locations(Location((25.980762114, 15, 0), (0, 0, 180))):
                Circle(SKETCH_13_R)
            with Locations(Location((30, 0, 0), (0, 0, 180))):
                Circle(SKETCH_13_R)
            with Locations(Location((25.980762114, -15, 0), (0, 0, 180))):
                Circle(SKETCH_13_R)
            with Locations(Location((15, -25.980762114, 0), (0, 0, 180))):
                Circle(SKETCH_13_R)
            with Locations(Location((0, -30, 0), (0, 0, 180))):
                Circle(SKETCH_13_R)
            with Locations(Location((-9.974586998, -29.2875295, 0), (0, 0, 180))):
                Circle(SKETCH_13_R)
            with Locations(Location((-19.949173997, -28.575059, 0), (0, 0, 180))):
                Circle(SKETCH_13_R)
            with Locations((-29.923760995, -27.8625885)):
                Circle(SKETCH_13_R_3)
            with Locations(Location((-39.898347993, -27.150118, 0), (0, 0, 180))):
                Circle(SKETCH_13_R)
            with Locations(Location((-49.872934992, -26.437647501, 0), (0, 0, 180))):
                Circle(SKETCH_13_R)
            with Locations(Location((-59.84752199, -25.725177001, 0), (0, 0, 180))):
                Circle(SKETCH_13_R)
            with Locations(Location((-69.822108988, -25.012706501, 0), (0, 0, 180))):
                Circle(SKETCH_13_R)
            with Locations(Location((-79.796695986, -24.300236001, 0), (0, 0, 180))):
                Circle(SKETCH_13_R)
            with Locations(Location((-89.771282985, -23.587765501, 0), (0, 0, 180))):
                Circle(SKETCH_13_R)
            with Locations(Location((-30, 0, 0), (0, 0, 180))):
                Circle(SKETCH_13_R)
            with Locations(Location((-25.980762114, -15, 0), (0, 0, 180))):
                Circle(SKETCH_13_R)
            with Locations(Location((-25.980762114, 15, 0), (0, 0, 180))):
                Circle(SKETCH_13_R)
        extrude(amount=-CUT_EXTRUDE_10_DEPTH, mode=Mode.SUBTRACT)


solid = part.part
